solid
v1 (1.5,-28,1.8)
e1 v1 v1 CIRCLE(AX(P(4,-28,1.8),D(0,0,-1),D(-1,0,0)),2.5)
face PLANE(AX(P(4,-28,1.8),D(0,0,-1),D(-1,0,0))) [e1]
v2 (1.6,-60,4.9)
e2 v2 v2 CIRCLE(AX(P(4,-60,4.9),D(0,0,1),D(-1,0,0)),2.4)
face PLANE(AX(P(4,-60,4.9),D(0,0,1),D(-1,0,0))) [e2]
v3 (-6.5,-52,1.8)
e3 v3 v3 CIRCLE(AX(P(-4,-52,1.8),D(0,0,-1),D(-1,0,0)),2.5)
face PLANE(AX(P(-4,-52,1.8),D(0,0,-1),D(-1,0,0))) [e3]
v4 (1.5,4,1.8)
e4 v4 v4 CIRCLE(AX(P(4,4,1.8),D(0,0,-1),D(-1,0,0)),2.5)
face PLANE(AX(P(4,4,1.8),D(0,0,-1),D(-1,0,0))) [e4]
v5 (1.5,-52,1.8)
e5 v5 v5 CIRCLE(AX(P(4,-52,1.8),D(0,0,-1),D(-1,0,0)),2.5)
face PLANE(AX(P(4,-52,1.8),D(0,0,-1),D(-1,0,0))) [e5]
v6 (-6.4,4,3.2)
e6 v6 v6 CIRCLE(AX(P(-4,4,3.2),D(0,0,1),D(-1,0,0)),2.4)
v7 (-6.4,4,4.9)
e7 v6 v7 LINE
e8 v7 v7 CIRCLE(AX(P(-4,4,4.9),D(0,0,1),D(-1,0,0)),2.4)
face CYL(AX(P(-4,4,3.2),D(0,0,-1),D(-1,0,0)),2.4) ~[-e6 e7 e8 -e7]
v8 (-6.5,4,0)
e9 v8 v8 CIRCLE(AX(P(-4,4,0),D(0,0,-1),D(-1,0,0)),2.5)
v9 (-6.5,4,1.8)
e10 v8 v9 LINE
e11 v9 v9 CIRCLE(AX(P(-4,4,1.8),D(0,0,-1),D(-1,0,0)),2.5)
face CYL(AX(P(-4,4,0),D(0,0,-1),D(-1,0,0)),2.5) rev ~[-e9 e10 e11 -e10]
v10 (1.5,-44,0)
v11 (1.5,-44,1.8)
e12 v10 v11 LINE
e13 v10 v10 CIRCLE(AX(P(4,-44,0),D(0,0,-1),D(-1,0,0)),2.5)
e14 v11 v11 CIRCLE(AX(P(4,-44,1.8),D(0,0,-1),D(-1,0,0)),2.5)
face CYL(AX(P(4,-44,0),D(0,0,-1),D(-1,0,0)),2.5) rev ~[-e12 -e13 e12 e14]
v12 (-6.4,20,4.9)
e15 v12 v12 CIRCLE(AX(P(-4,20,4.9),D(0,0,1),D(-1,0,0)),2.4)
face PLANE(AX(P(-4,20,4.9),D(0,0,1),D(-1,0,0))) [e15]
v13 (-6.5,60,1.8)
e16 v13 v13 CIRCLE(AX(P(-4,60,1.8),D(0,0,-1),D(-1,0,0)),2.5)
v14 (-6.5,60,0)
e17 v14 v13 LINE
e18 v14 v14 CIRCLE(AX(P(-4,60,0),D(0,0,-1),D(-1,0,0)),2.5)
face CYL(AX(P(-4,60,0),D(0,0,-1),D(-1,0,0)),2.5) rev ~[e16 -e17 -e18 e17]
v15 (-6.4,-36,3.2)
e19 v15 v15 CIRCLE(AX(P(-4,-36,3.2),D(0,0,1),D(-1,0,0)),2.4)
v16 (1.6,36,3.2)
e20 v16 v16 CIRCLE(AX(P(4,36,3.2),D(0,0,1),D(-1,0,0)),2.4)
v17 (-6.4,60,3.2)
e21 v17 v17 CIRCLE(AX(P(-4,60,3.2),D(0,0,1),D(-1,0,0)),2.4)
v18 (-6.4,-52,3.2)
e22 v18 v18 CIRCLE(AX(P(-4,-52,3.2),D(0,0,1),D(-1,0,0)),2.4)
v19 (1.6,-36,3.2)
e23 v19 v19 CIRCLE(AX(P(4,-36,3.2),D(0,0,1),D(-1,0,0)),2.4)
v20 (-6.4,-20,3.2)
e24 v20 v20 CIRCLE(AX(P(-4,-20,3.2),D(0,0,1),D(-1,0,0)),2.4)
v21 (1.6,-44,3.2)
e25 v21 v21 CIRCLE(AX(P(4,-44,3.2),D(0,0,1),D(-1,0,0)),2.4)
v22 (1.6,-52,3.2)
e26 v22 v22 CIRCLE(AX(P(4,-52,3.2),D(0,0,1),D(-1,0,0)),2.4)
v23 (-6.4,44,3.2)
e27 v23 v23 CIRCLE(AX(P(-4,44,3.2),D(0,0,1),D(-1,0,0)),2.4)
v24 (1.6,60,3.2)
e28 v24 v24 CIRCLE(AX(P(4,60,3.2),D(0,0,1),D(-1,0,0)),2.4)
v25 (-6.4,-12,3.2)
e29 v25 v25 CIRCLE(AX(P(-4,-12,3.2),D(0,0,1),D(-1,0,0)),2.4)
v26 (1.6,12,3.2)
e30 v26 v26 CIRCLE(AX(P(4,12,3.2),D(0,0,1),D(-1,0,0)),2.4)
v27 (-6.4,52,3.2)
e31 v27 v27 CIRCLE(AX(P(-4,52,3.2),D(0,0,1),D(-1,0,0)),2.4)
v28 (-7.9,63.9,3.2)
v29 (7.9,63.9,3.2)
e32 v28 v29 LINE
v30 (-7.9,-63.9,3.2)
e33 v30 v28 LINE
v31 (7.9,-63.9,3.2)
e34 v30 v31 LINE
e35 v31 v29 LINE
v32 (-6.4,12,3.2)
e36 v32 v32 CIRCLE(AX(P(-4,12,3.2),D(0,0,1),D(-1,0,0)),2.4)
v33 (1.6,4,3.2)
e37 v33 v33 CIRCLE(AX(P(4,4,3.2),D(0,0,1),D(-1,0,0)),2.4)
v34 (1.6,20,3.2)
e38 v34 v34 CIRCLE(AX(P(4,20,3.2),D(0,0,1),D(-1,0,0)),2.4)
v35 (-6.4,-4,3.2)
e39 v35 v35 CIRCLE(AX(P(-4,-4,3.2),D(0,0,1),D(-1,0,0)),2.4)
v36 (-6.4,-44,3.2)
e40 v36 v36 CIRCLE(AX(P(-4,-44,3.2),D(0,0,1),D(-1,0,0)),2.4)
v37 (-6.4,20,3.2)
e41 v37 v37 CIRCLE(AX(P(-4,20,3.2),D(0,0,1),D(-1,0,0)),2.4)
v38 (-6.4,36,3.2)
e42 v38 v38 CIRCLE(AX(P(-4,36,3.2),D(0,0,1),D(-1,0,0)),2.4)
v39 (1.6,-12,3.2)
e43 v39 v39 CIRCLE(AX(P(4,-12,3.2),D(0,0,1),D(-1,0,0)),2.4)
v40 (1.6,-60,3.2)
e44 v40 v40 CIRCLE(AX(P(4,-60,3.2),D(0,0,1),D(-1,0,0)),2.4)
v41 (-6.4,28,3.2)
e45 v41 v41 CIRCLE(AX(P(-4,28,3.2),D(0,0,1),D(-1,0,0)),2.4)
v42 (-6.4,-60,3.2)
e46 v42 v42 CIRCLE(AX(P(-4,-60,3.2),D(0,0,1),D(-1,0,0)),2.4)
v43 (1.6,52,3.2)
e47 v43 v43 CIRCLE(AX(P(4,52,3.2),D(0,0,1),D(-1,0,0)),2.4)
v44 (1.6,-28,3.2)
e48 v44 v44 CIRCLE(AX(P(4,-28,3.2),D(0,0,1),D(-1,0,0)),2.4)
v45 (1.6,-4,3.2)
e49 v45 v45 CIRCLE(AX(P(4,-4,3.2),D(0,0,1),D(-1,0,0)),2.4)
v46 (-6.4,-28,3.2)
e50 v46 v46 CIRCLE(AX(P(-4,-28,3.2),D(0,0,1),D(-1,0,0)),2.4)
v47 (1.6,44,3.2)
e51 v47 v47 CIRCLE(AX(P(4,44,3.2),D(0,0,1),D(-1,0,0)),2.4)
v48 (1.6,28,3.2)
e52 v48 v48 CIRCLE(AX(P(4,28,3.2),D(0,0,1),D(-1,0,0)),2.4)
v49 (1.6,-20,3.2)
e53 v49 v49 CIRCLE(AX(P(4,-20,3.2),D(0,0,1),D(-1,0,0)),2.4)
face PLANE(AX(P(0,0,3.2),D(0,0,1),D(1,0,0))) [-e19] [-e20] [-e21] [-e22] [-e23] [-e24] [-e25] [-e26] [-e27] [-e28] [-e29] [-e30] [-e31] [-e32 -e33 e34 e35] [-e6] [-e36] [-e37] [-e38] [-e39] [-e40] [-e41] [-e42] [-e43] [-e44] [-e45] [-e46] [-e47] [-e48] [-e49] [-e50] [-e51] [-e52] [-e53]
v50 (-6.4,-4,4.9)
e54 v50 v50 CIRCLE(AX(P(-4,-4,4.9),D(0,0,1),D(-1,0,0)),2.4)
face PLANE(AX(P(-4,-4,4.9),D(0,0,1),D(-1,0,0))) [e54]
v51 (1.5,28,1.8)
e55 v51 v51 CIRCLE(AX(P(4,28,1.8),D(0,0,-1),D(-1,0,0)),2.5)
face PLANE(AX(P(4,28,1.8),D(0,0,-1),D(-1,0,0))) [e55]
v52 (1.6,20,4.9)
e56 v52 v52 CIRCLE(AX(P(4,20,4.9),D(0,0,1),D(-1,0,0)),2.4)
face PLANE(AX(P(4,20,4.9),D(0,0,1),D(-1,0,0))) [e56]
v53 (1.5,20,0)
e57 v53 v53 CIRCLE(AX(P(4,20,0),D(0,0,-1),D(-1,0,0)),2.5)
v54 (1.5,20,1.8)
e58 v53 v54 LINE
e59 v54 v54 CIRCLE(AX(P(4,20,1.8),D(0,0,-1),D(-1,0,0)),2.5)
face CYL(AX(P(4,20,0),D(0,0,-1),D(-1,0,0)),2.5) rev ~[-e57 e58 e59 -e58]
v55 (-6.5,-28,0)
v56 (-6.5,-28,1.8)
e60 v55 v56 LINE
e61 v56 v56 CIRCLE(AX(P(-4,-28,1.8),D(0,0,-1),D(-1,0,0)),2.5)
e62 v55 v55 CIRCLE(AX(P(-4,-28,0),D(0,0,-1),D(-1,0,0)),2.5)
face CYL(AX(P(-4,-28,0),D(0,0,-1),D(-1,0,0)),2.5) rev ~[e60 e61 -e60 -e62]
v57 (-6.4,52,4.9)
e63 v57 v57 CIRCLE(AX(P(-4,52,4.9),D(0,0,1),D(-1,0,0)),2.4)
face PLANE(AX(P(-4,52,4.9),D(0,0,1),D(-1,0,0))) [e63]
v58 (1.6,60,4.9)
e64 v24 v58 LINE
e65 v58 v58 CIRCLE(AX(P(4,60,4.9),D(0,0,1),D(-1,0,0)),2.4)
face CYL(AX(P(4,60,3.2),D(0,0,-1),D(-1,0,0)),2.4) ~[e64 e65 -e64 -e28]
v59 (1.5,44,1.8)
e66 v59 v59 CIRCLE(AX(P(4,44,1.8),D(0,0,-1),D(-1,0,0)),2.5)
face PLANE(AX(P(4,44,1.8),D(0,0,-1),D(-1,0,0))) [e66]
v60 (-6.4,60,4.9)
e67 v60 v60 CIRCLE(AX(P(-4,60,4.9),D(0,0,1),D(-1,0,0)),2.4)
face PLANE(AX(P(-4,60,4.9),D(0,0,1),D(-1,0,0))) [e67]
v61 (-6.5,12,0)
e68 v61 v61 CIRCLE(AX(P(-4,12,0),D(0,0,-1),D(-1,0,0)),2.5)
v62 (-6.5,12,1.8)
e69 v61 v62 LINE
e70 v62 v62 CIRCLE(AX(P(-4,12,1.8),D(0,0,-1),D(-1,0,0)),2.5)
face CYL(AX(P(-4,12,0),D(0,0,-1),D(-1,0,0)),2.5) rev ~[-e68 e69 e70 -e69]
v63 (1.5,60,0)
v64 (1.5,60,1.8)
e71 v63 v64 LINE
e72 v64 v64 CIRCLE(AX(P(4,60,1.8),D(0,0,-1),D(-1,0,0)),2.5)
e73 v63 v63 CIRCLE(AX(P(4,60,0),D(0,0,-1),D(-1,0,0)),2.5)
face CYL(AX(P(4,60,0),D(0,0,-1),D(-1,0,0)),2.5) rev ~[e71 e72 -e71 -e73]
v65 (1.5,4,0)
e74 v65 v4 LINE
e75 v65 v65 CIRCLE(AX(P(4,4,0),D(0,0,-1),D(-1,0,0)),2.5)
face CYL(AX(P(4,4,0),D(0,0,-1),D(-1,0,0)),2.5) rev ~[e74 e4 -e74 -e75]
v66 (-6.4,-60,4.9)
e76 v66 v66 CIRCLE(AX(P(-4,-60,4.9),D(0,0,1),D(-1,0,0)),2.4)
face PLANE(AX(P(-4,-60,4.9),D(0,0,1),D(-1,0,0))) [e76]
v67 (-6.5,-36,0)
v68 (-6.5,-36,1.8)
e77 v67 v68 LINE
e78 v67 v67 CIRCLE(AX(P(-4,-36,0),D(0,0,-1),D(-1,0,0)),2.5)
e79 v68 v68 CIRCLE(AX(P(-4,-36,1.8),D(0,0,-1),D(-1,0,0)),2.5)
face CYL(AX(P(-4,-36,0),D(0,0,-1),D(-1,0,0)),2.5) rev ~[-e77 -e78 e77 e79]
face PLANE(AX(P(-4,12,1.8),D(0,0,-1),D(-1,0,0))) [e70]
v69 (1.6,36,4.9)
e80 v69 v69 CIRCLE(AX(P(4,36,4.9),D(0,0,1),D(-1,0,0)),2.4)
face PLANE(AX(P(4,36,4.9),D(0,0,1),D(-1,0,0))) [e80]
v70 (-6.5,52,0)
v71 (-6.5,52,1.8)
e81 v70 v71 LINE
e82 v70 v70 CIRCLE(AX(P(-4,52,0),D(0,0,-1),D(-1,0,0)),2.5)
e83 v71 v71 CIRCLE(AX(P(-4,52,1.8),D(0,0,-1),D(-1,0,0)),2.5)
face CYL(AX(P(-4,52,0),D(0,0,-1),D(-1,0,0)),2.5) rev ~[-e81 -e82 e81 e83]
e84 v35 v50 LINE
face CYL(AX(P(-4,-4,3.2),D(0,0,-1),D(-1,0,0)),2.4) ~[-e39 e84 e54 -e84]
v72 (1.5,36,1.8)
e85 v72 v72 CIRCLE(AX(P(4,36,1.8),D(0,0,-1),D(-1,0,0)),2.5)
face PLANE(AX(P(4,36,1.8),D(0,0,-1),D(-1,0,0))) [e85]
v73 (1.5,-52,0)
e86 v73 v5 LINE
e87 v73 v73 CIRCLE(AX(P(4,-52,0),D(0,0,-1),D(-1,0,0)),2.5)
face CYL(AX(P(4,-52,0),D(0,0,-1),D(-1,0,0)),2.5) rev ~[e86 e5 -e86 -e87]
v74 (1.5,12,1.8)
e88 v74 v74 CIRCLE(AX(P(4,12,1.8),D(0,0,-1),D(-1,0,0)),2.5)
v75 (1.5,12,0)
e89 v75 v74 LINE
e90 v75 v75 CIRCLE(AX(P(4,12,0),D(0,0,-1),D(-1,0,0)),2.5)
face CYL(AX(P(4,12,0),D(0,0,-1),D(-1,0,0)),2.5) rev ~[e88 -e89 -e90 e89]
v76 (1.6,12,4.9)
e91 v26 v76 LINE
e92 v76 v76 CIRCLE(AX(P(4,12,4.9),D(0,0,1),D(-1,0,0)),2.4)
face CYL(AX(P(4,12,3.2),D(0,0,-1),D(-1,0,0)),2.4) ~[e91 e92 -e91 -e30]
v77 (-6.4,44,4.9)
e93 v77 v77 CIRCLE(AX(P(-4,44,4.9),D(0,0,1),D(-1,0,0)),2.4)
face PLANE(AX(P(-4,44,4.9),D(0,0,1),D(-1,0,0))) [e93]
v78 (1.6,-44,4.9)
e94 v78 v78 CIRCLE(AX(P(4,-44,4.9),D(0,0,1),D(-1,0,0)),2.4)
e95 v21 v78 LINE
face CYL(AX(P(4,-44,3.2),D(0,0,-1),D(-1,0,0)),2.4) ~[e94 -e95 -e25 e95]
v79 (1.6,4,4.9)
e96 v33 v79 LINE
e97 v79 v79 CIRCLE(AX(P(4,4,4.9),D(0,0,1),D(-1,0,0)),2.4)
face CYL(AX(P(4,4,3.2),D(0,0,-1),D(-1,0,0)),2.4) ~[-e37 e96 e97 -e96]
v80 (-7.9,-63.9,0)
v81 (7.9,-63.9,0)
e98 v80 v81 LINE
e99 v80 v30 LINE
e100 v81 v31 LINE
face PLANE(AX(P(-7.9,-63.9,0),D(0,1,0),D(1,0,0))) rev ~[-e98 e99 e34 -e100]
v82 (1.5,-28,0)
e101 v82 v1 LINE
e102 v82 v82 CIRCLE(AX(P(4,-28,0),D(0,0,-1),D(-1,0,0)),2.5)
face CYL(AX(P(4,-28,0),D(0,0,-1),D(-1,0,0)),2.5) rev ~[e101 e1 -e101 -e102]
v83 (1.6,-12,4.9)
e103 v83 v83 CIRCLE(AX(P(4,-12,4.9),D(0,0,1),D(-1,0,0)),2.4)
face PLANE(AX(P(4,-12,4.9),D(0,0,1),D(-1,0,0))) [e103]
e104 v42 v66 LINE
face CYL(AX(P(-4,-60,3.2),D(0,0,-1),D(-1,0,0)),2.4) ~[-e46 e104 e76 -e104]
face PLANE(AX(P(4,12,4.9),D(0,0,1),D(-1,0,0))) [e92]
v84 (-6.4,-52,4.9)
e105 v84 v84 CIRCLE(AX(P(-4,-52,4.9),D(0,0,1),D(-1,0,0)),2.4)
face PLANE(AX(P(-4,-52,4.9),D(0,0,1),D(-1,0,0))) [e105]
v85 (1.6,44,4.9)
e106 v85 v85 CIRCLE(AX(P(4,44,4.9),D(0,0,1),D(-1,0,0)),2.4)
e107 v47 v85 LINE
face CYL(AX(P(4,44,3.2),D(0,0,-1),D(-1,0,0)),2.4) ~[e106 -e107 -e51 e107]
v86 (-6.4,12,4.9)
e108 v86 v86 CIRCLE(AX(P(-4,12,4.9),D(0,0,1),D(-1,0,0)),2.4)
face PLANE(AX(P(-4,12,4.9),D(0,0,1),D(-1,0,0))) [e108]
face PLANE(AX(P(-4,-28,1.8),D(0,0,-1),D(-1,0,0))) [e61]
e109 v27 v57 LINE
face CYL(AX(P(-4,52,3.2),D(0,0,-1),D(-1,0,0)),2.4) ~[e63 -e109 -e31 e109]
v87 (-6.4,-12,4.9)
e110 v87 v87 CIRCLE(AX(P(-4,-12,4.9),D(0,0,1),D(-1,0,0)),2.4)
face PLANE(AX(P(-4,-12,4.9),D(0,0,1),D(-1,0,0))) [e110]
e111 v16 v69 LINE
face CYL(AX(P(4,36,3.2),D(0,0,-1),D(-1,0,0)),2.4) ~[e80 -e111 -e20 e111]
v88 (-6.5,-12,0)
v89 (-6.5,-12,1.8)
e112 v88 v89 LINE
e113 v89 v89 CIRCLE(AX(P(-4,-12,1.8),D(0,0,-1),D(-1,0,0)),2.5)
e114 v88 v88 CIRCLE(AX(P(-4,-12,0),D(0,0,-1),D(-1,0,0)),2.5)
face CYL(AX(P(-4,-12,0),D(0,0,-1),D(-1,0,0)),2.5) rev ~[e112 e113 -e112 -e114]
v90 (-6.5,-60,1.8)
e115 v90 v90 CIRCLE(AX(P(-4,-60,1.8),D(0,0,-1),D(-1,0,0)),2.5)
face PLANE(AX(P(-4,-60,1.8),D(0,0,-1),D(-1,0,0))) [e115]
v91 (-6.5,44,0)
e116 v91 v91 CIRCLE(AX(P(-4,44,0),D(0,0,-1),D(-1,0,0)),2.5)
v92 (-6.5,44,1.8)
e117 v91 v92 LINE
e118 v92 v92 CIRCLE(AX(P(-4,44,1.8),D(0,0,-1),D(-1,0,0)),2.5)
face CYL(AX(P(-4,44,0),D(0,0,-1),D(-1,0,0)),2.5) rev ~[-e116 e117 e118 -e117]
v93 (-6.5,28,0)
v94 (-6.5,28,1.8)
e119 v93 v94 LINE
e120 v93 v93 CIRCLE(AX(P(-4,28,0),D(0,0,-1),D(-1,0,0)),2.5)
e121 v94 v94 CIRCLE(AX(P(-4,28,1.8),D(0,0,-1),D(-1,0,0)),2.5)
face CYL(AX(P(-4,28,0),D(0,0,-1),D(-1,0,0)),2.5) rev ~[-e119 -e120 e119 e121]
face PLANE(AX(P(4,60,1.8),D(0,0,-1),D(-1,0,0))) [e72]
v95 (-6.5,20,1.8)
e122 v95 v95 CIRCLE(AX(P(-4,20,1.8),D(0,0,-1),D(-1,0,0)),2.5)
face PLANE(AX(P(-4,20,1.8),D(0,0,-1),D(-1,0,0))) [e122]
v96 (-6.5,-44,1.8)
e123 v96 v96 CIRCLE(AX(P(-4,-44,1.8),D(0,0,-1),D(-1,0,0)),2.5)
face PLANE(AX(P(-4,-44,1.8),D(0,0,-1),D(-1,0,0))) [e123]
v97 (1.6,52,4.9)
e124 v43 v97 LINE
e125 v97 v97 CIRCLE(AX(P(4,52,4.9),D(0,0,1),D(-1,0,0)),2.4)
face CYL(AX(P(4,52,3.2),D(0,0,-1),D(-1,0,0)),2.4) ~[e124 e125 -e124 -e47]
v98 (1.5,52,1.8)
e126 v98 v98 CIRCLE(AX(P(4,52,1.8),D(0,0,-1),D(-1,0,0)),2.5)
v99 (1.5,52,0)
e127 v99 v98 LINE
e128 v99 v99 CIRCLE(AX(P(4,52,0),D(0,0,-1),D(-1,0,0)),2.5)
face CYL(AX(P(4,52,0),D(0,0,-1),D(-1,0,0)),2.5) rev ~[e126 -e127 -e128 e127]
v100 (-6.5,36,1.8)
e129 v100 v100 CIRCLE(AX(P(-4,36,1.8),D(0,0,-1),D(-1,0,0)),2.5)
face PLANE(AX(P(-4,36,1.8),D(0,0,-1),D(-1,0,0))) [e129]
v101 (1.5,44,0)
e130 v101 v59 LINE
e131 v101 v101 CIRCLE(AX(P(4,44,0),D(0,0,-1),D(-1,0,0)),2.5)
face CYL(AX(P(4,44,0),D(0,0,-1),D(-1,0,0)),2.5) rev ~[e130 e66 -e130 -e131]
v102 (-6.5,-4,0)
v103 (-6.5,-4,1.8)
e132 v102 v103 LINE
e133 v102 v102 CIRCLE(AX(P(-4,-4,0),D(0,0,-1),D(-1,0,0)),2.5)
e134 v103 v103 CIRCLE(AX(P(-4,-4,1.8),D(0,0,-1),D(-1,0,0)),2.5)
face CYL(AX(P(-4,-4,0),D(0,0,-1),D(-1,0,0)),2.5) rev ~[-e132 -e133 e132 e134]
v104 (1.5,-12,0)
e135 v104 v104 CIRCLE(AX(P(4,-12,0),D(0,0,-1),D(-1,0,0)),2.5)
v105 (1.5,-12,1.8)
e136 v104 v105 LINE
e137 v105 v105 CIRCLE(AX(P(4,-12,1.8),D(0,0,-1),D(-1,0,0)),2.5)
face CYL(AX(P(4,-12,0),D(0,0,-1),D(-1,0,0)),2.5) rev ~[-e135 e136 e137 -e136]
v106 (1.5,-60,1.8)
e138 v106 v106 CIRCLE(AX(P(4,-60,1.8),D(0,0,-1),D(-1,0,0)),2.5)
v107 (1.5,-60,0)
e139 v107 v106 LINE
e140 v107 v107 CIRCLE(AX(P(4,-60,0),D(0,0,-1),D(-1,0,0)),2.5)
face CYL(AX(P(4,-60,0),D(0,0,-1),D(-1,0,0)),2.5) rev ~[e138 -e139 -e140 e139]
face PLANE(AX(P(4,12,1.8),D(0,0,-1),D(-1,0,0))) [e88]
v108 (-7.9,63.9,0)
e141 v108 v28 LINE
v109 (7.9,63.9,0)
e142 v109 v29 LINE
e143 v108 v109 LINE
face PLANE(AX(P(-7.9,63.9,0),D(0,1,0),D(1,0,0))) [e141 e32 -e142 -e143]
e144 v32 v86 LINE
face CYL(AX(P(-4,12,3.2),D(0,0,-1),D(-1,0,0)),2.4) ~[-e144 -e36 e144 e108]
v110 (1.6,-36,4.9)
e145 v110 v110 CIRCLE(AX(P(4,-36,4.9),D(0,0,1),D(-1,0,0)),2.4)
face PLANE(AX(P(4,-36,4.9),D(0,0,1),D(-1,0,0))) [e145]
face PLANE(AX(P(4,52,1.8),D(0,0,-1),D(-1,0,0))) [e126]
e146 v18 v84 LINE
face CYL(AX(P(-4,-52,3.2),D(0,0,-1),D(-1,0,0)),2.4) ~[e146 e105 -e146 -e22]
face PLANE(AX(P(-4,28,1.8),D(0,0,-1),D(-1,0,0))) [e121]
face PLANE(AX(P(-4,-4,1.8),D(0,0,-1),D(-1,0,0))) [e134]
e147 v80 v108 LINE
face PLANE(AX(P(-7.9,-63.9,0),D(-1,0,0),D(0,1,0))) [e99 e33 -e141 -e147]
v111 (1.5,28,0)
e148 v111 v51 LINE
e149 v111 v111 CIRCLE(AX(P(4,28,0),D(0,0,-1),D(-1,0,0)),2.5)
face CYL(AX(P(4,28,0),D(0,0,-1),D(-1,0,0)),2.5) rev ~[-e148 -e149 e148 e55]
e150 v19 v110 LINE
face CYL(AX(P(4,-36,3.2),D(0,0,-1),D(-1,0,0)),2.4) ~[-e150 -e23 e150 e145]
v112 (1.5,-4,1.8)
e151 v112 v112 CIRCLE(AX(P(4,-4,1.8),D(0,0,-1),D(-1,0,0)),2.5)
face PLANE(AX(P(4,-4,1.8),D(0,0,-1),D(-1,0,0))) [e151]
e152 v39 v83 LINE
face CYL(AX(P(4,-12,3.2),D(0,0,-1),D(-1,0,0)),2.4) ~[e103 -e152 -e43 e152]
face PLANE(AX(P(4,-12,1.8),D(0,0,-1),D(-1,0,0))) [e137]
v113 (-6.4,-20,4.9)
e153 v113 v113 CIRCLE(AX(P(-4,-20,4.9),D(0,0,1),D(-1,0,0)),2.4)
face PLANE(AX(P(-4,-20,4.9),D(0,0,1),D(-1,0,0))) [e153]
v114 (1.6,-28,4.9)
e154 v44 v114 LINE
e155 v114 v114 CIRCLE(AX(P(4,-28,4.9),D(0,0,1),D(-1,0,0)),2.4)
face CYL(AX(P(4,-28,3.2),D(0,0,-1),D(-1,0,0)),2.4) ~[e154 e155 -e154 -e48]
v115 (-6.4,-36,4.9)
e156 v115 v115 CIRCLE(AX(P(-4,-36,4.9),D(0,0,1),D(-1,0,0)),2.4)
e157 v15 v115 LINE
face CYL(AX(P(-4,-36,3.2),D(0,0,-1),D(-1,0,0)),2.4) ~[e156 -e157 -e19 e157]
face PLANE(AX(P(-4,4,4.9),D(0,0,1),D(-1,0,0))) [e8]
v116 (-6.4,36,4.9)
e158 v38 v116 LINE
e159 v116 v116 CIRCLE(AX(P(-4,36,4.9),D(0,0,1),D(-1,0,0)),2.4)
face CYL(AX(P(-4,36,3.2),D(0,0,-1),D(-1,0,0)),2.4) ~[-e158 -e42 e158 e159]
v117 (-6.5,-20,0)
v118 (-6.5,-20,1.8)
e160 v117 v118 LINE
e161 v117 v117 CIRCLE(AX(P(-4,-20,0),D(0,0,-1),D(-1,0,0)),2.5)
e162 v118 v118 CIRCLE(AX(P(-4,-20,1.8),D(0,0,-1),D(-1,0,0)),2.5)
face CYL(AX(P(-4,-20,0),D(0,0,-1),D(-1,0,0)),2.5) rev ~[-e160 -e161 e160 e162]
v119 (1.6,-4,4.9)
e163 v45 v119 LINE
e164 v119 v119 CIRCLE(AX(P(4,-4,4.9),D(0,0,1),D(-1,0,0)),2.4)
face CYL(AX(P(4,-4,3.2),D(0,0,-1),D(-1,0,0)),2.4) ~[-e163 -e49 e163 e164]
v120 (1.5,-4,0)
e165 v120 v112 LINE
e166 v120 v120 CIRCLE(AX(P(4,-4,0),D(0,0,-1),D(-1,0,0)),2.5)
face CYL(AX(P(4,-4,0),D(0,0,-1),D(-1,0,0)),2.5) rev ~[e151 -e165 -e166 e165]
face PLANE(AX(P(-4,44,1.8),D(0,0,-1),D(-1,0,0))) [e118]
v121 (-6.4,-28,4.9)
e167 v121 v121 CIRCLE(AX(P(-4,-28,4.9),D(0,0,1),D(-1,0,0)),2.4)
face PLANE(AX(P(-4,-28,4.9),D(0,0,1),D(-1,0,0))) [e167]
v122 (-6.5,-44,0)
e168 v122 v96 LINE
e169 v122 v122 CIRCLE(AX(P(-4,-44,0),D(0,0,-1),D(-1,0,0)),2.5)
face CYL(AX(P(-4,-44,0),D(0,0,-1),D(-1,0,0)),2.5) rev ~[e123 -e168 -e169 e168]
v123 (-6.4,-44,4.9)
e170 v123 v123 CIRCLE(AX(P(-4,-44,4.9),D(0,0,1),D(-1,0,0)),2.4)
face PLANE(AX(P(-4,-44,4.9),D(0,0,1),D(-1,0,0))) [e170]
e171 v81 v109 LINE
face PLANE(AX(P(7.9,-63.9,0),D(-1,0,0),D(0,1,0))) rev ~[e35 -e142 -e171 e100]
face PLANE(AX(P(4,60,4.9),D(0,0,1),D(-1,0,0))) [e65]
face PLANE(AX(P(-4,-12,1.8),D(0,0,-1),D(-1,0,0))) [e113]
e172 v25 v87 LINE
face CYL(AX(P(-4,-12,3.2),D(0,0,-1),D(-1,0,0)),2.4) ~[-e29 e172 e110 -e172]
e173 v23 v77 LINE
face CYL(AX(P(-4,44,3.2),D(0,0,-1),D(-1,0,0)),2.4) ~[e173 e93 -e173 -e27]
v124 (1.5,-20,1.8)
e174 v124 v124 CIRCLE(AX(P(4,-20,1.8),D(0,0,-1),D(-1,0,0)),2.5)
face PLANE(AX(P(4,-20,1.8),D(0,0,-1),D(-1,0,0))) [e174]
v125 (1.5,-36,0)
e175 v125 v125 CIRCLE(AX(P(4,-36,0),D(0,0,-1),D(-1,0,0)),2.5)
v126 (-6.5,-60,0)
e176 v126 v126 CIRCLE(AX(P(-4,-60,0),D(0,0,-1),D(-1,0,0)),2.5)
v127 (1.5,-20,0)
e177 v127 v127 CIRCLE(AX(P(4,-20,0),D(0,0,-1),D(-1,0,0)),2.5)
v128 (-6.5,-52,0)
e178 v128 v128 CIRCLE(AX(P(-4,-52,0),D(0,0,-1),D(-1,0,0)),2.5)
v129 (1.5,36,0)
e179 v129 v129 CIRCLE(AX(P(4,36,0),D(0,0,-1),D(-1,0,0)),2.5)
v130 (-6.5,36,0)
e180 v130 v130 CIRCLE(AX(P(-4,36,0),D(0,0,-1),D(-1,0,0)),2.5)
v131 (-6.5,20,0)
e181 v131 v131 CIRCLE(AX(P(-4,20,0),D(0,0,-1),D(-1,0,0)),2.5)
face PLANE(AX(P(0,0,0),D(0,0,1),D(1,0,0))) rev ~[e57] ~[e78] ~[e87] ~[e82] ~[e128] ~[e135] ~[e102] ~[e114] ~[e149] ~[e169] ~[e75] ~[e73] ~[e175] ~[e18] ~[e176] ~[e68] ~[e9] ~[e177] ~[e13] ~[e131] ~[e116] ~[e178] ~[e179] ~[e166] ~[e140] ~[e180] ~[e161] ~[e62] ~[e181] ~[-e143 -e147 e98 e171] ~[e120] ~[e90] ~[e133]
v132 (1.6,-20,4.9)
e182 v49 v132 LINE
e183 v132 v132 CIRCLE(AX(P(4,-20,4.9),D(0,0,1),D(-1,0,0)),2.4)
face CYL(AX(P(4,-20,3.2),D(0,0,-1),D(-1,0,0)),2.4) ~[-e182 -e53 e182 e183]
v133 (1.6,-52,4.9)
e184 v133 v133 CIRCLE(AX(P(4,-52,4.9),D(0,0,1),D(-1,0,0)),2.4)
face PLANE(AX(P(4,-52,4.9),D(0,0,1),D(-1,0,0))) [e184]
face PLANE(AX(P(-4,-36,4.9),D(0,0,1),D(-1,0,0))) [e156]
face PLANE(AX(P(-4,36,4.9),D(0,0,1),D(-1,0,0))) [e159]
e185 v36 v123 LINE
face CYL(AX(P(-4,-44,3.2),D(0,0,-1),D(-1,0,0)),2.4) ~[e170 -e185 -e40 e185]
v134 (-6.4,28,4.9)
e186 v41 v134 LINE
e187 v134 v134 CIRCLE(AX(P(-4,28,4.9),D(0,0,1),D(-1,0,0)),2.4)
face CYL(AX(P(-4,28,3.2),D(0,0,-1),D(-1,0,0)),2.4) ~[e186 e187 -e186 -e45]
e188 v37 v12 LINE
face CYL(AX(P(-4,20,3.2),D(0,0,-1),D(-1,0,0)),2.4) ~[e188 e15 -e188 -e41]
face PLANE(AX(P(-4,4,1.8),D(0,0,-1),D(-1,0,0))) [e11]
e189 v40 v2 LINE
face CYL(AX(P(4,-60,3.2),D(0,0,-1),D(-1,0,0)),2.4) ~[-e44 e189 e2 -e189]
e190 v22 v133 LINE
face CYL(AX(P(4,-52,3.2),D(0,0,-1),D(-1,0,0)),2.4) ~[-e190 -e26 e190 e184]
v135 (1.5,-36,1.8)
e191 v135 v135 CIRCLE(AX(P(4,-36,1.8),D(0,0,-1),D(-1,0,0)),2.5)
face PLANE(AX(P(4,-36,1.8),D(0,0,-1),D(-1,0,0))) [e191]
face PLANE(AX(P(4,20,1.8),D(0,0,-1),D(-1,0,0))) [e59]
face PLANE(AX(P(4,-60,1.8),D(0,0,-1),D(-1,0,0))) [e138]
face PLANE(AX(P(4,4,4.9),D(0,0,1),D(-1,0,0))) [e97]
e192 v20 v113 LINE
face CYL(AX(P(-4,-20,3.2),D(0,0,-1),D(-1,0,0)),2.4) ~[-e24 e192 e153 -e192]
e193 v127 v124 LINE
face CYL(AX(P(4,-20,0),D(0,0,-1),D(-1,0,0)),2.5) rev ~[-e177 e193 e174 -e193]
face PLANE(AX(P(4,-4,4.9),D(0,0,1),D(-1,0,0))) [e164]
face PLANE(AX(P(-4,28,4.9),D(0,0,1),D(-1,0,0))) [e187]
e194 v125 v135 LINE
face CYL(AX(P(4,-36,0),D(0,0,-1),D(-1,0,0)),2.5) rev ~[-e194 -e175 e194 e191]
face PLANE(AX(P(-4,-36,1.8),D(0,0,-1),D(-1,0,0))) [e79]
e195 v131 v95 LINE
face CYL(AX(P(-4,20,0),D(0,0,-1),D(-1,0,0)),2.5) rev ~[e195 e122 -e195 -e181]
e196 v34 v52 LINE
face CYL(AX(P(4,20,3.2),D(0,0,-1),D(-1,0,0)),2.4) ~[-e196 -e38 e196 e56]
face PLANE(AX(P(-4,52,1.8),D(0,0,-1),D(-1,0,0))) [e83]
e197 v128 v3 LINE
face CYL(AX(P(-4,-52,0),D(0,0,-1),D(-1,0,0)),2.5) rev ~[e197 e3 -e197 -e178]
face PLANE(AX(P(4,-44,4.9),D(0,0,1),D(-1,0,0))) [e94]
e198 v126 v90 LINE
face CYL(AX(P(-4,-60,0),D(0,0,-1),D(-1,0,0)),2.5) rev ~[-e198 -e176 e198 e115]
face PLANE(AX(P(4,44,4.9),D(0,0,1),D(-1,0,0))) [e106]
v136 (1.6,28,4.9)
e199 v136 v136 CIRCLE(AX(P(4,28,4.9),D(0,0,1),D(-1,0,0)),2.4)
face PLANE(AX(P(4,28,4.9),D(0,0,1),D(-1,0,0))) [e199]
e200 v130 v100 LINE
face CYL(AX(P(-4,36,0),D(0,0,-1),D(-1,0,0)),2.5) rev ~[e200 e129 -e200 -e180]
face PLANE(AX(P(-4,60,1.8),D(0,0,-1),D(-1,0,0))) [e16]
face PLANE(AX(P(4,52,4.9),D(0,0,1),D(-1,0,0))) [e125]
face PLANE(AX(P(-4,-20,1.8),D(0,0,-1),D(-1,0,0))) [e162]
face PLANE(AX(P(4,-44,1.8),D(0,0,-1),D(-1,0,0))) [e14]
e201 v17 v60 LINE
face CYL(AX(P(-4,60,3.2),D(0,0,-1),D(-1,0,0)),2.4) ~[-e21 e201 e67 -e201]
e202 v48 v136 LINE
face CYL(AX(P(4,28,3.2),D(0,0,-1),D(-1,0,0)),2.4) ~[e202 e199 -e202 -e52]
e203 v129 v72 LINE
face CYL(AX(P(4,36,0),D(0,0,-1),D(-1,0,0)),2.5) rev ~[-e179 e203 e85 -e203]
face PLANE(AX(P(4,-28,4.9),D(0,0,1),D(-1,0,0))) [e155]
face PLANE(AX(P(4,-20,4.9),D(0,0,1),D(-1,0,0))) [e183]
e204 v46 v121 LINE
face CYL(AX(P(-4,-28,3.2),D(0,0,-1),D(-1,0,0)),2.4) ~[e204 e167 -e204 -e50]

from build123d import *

# Parameters (mm, degrees)
SKETCH_1_W          = 15.8
SKETCH_1_H          = 127.8
EXTRUDE_1_DEPTH     = 3.2
SKETCH_2_R          = 2.4
EXTRUDE_2_DEPTH     = 1.7
SKETCH_3_R          = 2.5
CUT_EXTRUDE_1_DEPTH = 1.8


with BuildPart() as part:
    # Эскиз1 → Бобышка-Вытянуть1 (new body)
    with BuildSketch(Plane.XY):
        Rectangle(SKETCH_1_W, SKETCH_1_H)
    extrude(amount=EXTRUDE_1_DEPTH)

    # Эскиз2 → Бобышка-Вытянуть2 (add)
    with BuildSketch(Plane.XY.offset(3.2)):
        with Locations(Location((-4, 60, 0), (0, 0, 180))):
            Circle(SKETCH_2_R)
        with Locations(Location((4, 60, 0), (0, 0, 180))):
            Circle(SKETCH_2_R)
        with Locations(Location((4, 52, 0), (0, 0, 180))):
            Circle(SKETCH_2_R)
        with Locations(Location((4, 44, 0), (0, 0, 180))):
            Circle(SKETCH_2_R)
        with Locations(Location((4, 36, 0), (0, 0, 180))):
            Circle(SKETCH_2_R)
        with Locations(Location((4, 28, 0), (0, 0, 180))):
            Circle(SKETCH_2_R)
        with Locations(Location((4, 20, 0), (0, 0, 180))):
            Circle(SKETCH_2_R)
        with Locations(Location((4, 12, 0), (0, 0, 180))):
            Circle(SKETCH_2_R)
        with Locations(Location((4, 4, 0), (0, 0, 180))):
            Circle(SKETCH_2_R)
        with Locations(Location((4, -4, 0), (0, 0, 180))):
            Circle(SKETCH_2_R)
        with Locations(Location((4, -12, 0), (0, 0, 180))):
            Circle(SKETCH_2_R)
        with Locations(Location((4, -20, 0), (0, 0, 180))):
            Circle(SKETCH_2_R)
        with Locations(Location((4, -28, 0), (0, 0, 180))):
            Circle(SKETCH_2_R)
        with Locations(Location((4, -36, 0), (0, 0, 180))):
            Circle(SKETCH_2_R)
        with Locations(Location((4, -44, 0), (0, 0, 180))):
            Circle(SKETCH_2_R)
        with Locations(Location((4, -52, 0), (0, 0, 180))):
            Circle(SKETCH_2_R)
        with Locations(Location((4, -60, 0), (0, 0, 180))):
            Circle(SKETCH_2_R)
        with Locations(Location((-4, 52, 0), (0, 0, 180))):
            Circle(SKETCH_2_R)
        with Locations(Location((-4, 44, 0), (0, 0, 180))):
            Circle(SKETCH_2_R)
        with Locations(Location((-4, 36, 0), (0, 0, 180))):
            Circle(SKETCH_2_R)
        with Locations(Location((-4, 28, 0), (0, 0, 180))):
            Circle(SKETCH_2_R)
        with Locations(Location((-4, 20, 0), (0, 0, 180))):
            Circle(SKETCH_2_R)
        with Locations(Location((-4, 12, 0), (0, 0, 180))):
            Circle(SKETCH_2_R)
        with Locations(Location((-4, 4, 0), (0, 0, 180))):
            Circle(SKETCH_2_R)
        with Locations(Location((-4, -4, 0), (0, 0, 180))):
            Circle(SKETCH_2_R)
        with Locations(Location((-4, -12, 0), (0, 0, 180))):
            Circle(SKETCH_2_R)
        with Locations(Location((-4, -20, 0), (0, 0, 180))):
            Circle(SKETCH_2_R)
        with Locations(Location((-4, -28, 0), (0, 0, 180))):
            Circle(SKETCH_2_R)
        with Locations(Location((-4, -36, 0), (0, 0, 180))):
            Circle(SKETCH_2_R)
        with Locations(Location((-4, -44, 0), (0, 0, 180))):
            Circle(SKETCH_2_R)
        with Locations(Location((-4, -52, 0), (0, 0, 180))):
            Circle(SKETCH_2_R)
        with Locations(Location((-4, -60, 0), (0, 0, 180))):
            Circle(SKETCH_2_R)
    extrude(amount=EXTRUDE_2_DEPTH)

    # Эскиз3 → Вырез-Вытянуть1 (cut)
    with BuildSketch(Plane(origin=(0, 0, 0), x_dir=(-1, 0, 0), z_dir=(0, 0, -1))):
        with Locations((-4, 60)):
            Circle(SKETCH_3_R)
        with Locations((4, 60)):
            Circle(SKETCH_3_R)
        with Locations((4, 52)):
            Circle(SKETCH_3_R)
        with Locations((4, 44)):
            Circle(SKETCH_3_R)
        with Locations((4, 36)):
            Circle(SKETCH_3_R)
        with Locations((4, 28)):
            Circle(SKETCH_3_R)
        with Locations((4, 20)):
            Circle(SKETCH_3_R)
        with Locations((4, 12)):
            Circle(SKETCH_3_R)
        with Locations((4, 4)):
            Circle(SKETCH_3_R)
        with Locations((4, -4)):
            Circle(SKETCH_3_R)
        with Locations((4, -12)):
            Circle(SKETCH_3_R)
        with Locations((4, -20)):
            Circle(SKETCH_3_R)
        with Locations((4, -28)):
            Circle(SKETCH_3_R)
        with Locations((4, -36)):
            Circle(SKETCH_3_R)
        with Locations((4, -44)):
            Circle(SKETCH_3_R)
        with Locations((4, -52)):
            Circle(SKETCH_3_R)
        with Locations((4, -60)):
            Circle(SKETCH_3_R)
        with Locations((-4, 52)):
            Circle(SKETCH_3_R)
        with Locations((-4, 44)):
            Circle(SKETCH_3_R)
        with Locations((-4, 36)):
            Circle(SKETCH_3_R)
        with Locations((-4, 28)):
            Circle(SKETCH_3_R)
        with Locations((-4, 20)):
            Circle(SKETCH_3_R)
        with Locations((-4, 12)):
            Circle(SKETCH_3_R)
        with Locations((-4, 4)):
            Circle(SKETCH_3_R)
        with Locations((-4, -4)):
            Circle(SKETCH_3_R)
        with Locations((-4, -12)):
            Circle(SKETCH_3_R)
        with Locations((-4, -20)):
            Circle(SKETCH_3_R)
        with Locations((-4, -28)):
            Circle(SKETCH_3_R)
        with Locations((-4, -36)):
            Circle(SKETCH_3_R)
        with Locations((-4, -44)):
            Circle(SKETCH_3_R)
        with Locations((-4, -52)):
            Circle(SKETCH_3_R)
        with Locations((-4, -60)):
            Circle(SKETCH_3_R)
    extrude(amount=-CUT_EXTRUDE_1_DEPTH, mode=Mode.SUBTRACT)


solid = part.part
